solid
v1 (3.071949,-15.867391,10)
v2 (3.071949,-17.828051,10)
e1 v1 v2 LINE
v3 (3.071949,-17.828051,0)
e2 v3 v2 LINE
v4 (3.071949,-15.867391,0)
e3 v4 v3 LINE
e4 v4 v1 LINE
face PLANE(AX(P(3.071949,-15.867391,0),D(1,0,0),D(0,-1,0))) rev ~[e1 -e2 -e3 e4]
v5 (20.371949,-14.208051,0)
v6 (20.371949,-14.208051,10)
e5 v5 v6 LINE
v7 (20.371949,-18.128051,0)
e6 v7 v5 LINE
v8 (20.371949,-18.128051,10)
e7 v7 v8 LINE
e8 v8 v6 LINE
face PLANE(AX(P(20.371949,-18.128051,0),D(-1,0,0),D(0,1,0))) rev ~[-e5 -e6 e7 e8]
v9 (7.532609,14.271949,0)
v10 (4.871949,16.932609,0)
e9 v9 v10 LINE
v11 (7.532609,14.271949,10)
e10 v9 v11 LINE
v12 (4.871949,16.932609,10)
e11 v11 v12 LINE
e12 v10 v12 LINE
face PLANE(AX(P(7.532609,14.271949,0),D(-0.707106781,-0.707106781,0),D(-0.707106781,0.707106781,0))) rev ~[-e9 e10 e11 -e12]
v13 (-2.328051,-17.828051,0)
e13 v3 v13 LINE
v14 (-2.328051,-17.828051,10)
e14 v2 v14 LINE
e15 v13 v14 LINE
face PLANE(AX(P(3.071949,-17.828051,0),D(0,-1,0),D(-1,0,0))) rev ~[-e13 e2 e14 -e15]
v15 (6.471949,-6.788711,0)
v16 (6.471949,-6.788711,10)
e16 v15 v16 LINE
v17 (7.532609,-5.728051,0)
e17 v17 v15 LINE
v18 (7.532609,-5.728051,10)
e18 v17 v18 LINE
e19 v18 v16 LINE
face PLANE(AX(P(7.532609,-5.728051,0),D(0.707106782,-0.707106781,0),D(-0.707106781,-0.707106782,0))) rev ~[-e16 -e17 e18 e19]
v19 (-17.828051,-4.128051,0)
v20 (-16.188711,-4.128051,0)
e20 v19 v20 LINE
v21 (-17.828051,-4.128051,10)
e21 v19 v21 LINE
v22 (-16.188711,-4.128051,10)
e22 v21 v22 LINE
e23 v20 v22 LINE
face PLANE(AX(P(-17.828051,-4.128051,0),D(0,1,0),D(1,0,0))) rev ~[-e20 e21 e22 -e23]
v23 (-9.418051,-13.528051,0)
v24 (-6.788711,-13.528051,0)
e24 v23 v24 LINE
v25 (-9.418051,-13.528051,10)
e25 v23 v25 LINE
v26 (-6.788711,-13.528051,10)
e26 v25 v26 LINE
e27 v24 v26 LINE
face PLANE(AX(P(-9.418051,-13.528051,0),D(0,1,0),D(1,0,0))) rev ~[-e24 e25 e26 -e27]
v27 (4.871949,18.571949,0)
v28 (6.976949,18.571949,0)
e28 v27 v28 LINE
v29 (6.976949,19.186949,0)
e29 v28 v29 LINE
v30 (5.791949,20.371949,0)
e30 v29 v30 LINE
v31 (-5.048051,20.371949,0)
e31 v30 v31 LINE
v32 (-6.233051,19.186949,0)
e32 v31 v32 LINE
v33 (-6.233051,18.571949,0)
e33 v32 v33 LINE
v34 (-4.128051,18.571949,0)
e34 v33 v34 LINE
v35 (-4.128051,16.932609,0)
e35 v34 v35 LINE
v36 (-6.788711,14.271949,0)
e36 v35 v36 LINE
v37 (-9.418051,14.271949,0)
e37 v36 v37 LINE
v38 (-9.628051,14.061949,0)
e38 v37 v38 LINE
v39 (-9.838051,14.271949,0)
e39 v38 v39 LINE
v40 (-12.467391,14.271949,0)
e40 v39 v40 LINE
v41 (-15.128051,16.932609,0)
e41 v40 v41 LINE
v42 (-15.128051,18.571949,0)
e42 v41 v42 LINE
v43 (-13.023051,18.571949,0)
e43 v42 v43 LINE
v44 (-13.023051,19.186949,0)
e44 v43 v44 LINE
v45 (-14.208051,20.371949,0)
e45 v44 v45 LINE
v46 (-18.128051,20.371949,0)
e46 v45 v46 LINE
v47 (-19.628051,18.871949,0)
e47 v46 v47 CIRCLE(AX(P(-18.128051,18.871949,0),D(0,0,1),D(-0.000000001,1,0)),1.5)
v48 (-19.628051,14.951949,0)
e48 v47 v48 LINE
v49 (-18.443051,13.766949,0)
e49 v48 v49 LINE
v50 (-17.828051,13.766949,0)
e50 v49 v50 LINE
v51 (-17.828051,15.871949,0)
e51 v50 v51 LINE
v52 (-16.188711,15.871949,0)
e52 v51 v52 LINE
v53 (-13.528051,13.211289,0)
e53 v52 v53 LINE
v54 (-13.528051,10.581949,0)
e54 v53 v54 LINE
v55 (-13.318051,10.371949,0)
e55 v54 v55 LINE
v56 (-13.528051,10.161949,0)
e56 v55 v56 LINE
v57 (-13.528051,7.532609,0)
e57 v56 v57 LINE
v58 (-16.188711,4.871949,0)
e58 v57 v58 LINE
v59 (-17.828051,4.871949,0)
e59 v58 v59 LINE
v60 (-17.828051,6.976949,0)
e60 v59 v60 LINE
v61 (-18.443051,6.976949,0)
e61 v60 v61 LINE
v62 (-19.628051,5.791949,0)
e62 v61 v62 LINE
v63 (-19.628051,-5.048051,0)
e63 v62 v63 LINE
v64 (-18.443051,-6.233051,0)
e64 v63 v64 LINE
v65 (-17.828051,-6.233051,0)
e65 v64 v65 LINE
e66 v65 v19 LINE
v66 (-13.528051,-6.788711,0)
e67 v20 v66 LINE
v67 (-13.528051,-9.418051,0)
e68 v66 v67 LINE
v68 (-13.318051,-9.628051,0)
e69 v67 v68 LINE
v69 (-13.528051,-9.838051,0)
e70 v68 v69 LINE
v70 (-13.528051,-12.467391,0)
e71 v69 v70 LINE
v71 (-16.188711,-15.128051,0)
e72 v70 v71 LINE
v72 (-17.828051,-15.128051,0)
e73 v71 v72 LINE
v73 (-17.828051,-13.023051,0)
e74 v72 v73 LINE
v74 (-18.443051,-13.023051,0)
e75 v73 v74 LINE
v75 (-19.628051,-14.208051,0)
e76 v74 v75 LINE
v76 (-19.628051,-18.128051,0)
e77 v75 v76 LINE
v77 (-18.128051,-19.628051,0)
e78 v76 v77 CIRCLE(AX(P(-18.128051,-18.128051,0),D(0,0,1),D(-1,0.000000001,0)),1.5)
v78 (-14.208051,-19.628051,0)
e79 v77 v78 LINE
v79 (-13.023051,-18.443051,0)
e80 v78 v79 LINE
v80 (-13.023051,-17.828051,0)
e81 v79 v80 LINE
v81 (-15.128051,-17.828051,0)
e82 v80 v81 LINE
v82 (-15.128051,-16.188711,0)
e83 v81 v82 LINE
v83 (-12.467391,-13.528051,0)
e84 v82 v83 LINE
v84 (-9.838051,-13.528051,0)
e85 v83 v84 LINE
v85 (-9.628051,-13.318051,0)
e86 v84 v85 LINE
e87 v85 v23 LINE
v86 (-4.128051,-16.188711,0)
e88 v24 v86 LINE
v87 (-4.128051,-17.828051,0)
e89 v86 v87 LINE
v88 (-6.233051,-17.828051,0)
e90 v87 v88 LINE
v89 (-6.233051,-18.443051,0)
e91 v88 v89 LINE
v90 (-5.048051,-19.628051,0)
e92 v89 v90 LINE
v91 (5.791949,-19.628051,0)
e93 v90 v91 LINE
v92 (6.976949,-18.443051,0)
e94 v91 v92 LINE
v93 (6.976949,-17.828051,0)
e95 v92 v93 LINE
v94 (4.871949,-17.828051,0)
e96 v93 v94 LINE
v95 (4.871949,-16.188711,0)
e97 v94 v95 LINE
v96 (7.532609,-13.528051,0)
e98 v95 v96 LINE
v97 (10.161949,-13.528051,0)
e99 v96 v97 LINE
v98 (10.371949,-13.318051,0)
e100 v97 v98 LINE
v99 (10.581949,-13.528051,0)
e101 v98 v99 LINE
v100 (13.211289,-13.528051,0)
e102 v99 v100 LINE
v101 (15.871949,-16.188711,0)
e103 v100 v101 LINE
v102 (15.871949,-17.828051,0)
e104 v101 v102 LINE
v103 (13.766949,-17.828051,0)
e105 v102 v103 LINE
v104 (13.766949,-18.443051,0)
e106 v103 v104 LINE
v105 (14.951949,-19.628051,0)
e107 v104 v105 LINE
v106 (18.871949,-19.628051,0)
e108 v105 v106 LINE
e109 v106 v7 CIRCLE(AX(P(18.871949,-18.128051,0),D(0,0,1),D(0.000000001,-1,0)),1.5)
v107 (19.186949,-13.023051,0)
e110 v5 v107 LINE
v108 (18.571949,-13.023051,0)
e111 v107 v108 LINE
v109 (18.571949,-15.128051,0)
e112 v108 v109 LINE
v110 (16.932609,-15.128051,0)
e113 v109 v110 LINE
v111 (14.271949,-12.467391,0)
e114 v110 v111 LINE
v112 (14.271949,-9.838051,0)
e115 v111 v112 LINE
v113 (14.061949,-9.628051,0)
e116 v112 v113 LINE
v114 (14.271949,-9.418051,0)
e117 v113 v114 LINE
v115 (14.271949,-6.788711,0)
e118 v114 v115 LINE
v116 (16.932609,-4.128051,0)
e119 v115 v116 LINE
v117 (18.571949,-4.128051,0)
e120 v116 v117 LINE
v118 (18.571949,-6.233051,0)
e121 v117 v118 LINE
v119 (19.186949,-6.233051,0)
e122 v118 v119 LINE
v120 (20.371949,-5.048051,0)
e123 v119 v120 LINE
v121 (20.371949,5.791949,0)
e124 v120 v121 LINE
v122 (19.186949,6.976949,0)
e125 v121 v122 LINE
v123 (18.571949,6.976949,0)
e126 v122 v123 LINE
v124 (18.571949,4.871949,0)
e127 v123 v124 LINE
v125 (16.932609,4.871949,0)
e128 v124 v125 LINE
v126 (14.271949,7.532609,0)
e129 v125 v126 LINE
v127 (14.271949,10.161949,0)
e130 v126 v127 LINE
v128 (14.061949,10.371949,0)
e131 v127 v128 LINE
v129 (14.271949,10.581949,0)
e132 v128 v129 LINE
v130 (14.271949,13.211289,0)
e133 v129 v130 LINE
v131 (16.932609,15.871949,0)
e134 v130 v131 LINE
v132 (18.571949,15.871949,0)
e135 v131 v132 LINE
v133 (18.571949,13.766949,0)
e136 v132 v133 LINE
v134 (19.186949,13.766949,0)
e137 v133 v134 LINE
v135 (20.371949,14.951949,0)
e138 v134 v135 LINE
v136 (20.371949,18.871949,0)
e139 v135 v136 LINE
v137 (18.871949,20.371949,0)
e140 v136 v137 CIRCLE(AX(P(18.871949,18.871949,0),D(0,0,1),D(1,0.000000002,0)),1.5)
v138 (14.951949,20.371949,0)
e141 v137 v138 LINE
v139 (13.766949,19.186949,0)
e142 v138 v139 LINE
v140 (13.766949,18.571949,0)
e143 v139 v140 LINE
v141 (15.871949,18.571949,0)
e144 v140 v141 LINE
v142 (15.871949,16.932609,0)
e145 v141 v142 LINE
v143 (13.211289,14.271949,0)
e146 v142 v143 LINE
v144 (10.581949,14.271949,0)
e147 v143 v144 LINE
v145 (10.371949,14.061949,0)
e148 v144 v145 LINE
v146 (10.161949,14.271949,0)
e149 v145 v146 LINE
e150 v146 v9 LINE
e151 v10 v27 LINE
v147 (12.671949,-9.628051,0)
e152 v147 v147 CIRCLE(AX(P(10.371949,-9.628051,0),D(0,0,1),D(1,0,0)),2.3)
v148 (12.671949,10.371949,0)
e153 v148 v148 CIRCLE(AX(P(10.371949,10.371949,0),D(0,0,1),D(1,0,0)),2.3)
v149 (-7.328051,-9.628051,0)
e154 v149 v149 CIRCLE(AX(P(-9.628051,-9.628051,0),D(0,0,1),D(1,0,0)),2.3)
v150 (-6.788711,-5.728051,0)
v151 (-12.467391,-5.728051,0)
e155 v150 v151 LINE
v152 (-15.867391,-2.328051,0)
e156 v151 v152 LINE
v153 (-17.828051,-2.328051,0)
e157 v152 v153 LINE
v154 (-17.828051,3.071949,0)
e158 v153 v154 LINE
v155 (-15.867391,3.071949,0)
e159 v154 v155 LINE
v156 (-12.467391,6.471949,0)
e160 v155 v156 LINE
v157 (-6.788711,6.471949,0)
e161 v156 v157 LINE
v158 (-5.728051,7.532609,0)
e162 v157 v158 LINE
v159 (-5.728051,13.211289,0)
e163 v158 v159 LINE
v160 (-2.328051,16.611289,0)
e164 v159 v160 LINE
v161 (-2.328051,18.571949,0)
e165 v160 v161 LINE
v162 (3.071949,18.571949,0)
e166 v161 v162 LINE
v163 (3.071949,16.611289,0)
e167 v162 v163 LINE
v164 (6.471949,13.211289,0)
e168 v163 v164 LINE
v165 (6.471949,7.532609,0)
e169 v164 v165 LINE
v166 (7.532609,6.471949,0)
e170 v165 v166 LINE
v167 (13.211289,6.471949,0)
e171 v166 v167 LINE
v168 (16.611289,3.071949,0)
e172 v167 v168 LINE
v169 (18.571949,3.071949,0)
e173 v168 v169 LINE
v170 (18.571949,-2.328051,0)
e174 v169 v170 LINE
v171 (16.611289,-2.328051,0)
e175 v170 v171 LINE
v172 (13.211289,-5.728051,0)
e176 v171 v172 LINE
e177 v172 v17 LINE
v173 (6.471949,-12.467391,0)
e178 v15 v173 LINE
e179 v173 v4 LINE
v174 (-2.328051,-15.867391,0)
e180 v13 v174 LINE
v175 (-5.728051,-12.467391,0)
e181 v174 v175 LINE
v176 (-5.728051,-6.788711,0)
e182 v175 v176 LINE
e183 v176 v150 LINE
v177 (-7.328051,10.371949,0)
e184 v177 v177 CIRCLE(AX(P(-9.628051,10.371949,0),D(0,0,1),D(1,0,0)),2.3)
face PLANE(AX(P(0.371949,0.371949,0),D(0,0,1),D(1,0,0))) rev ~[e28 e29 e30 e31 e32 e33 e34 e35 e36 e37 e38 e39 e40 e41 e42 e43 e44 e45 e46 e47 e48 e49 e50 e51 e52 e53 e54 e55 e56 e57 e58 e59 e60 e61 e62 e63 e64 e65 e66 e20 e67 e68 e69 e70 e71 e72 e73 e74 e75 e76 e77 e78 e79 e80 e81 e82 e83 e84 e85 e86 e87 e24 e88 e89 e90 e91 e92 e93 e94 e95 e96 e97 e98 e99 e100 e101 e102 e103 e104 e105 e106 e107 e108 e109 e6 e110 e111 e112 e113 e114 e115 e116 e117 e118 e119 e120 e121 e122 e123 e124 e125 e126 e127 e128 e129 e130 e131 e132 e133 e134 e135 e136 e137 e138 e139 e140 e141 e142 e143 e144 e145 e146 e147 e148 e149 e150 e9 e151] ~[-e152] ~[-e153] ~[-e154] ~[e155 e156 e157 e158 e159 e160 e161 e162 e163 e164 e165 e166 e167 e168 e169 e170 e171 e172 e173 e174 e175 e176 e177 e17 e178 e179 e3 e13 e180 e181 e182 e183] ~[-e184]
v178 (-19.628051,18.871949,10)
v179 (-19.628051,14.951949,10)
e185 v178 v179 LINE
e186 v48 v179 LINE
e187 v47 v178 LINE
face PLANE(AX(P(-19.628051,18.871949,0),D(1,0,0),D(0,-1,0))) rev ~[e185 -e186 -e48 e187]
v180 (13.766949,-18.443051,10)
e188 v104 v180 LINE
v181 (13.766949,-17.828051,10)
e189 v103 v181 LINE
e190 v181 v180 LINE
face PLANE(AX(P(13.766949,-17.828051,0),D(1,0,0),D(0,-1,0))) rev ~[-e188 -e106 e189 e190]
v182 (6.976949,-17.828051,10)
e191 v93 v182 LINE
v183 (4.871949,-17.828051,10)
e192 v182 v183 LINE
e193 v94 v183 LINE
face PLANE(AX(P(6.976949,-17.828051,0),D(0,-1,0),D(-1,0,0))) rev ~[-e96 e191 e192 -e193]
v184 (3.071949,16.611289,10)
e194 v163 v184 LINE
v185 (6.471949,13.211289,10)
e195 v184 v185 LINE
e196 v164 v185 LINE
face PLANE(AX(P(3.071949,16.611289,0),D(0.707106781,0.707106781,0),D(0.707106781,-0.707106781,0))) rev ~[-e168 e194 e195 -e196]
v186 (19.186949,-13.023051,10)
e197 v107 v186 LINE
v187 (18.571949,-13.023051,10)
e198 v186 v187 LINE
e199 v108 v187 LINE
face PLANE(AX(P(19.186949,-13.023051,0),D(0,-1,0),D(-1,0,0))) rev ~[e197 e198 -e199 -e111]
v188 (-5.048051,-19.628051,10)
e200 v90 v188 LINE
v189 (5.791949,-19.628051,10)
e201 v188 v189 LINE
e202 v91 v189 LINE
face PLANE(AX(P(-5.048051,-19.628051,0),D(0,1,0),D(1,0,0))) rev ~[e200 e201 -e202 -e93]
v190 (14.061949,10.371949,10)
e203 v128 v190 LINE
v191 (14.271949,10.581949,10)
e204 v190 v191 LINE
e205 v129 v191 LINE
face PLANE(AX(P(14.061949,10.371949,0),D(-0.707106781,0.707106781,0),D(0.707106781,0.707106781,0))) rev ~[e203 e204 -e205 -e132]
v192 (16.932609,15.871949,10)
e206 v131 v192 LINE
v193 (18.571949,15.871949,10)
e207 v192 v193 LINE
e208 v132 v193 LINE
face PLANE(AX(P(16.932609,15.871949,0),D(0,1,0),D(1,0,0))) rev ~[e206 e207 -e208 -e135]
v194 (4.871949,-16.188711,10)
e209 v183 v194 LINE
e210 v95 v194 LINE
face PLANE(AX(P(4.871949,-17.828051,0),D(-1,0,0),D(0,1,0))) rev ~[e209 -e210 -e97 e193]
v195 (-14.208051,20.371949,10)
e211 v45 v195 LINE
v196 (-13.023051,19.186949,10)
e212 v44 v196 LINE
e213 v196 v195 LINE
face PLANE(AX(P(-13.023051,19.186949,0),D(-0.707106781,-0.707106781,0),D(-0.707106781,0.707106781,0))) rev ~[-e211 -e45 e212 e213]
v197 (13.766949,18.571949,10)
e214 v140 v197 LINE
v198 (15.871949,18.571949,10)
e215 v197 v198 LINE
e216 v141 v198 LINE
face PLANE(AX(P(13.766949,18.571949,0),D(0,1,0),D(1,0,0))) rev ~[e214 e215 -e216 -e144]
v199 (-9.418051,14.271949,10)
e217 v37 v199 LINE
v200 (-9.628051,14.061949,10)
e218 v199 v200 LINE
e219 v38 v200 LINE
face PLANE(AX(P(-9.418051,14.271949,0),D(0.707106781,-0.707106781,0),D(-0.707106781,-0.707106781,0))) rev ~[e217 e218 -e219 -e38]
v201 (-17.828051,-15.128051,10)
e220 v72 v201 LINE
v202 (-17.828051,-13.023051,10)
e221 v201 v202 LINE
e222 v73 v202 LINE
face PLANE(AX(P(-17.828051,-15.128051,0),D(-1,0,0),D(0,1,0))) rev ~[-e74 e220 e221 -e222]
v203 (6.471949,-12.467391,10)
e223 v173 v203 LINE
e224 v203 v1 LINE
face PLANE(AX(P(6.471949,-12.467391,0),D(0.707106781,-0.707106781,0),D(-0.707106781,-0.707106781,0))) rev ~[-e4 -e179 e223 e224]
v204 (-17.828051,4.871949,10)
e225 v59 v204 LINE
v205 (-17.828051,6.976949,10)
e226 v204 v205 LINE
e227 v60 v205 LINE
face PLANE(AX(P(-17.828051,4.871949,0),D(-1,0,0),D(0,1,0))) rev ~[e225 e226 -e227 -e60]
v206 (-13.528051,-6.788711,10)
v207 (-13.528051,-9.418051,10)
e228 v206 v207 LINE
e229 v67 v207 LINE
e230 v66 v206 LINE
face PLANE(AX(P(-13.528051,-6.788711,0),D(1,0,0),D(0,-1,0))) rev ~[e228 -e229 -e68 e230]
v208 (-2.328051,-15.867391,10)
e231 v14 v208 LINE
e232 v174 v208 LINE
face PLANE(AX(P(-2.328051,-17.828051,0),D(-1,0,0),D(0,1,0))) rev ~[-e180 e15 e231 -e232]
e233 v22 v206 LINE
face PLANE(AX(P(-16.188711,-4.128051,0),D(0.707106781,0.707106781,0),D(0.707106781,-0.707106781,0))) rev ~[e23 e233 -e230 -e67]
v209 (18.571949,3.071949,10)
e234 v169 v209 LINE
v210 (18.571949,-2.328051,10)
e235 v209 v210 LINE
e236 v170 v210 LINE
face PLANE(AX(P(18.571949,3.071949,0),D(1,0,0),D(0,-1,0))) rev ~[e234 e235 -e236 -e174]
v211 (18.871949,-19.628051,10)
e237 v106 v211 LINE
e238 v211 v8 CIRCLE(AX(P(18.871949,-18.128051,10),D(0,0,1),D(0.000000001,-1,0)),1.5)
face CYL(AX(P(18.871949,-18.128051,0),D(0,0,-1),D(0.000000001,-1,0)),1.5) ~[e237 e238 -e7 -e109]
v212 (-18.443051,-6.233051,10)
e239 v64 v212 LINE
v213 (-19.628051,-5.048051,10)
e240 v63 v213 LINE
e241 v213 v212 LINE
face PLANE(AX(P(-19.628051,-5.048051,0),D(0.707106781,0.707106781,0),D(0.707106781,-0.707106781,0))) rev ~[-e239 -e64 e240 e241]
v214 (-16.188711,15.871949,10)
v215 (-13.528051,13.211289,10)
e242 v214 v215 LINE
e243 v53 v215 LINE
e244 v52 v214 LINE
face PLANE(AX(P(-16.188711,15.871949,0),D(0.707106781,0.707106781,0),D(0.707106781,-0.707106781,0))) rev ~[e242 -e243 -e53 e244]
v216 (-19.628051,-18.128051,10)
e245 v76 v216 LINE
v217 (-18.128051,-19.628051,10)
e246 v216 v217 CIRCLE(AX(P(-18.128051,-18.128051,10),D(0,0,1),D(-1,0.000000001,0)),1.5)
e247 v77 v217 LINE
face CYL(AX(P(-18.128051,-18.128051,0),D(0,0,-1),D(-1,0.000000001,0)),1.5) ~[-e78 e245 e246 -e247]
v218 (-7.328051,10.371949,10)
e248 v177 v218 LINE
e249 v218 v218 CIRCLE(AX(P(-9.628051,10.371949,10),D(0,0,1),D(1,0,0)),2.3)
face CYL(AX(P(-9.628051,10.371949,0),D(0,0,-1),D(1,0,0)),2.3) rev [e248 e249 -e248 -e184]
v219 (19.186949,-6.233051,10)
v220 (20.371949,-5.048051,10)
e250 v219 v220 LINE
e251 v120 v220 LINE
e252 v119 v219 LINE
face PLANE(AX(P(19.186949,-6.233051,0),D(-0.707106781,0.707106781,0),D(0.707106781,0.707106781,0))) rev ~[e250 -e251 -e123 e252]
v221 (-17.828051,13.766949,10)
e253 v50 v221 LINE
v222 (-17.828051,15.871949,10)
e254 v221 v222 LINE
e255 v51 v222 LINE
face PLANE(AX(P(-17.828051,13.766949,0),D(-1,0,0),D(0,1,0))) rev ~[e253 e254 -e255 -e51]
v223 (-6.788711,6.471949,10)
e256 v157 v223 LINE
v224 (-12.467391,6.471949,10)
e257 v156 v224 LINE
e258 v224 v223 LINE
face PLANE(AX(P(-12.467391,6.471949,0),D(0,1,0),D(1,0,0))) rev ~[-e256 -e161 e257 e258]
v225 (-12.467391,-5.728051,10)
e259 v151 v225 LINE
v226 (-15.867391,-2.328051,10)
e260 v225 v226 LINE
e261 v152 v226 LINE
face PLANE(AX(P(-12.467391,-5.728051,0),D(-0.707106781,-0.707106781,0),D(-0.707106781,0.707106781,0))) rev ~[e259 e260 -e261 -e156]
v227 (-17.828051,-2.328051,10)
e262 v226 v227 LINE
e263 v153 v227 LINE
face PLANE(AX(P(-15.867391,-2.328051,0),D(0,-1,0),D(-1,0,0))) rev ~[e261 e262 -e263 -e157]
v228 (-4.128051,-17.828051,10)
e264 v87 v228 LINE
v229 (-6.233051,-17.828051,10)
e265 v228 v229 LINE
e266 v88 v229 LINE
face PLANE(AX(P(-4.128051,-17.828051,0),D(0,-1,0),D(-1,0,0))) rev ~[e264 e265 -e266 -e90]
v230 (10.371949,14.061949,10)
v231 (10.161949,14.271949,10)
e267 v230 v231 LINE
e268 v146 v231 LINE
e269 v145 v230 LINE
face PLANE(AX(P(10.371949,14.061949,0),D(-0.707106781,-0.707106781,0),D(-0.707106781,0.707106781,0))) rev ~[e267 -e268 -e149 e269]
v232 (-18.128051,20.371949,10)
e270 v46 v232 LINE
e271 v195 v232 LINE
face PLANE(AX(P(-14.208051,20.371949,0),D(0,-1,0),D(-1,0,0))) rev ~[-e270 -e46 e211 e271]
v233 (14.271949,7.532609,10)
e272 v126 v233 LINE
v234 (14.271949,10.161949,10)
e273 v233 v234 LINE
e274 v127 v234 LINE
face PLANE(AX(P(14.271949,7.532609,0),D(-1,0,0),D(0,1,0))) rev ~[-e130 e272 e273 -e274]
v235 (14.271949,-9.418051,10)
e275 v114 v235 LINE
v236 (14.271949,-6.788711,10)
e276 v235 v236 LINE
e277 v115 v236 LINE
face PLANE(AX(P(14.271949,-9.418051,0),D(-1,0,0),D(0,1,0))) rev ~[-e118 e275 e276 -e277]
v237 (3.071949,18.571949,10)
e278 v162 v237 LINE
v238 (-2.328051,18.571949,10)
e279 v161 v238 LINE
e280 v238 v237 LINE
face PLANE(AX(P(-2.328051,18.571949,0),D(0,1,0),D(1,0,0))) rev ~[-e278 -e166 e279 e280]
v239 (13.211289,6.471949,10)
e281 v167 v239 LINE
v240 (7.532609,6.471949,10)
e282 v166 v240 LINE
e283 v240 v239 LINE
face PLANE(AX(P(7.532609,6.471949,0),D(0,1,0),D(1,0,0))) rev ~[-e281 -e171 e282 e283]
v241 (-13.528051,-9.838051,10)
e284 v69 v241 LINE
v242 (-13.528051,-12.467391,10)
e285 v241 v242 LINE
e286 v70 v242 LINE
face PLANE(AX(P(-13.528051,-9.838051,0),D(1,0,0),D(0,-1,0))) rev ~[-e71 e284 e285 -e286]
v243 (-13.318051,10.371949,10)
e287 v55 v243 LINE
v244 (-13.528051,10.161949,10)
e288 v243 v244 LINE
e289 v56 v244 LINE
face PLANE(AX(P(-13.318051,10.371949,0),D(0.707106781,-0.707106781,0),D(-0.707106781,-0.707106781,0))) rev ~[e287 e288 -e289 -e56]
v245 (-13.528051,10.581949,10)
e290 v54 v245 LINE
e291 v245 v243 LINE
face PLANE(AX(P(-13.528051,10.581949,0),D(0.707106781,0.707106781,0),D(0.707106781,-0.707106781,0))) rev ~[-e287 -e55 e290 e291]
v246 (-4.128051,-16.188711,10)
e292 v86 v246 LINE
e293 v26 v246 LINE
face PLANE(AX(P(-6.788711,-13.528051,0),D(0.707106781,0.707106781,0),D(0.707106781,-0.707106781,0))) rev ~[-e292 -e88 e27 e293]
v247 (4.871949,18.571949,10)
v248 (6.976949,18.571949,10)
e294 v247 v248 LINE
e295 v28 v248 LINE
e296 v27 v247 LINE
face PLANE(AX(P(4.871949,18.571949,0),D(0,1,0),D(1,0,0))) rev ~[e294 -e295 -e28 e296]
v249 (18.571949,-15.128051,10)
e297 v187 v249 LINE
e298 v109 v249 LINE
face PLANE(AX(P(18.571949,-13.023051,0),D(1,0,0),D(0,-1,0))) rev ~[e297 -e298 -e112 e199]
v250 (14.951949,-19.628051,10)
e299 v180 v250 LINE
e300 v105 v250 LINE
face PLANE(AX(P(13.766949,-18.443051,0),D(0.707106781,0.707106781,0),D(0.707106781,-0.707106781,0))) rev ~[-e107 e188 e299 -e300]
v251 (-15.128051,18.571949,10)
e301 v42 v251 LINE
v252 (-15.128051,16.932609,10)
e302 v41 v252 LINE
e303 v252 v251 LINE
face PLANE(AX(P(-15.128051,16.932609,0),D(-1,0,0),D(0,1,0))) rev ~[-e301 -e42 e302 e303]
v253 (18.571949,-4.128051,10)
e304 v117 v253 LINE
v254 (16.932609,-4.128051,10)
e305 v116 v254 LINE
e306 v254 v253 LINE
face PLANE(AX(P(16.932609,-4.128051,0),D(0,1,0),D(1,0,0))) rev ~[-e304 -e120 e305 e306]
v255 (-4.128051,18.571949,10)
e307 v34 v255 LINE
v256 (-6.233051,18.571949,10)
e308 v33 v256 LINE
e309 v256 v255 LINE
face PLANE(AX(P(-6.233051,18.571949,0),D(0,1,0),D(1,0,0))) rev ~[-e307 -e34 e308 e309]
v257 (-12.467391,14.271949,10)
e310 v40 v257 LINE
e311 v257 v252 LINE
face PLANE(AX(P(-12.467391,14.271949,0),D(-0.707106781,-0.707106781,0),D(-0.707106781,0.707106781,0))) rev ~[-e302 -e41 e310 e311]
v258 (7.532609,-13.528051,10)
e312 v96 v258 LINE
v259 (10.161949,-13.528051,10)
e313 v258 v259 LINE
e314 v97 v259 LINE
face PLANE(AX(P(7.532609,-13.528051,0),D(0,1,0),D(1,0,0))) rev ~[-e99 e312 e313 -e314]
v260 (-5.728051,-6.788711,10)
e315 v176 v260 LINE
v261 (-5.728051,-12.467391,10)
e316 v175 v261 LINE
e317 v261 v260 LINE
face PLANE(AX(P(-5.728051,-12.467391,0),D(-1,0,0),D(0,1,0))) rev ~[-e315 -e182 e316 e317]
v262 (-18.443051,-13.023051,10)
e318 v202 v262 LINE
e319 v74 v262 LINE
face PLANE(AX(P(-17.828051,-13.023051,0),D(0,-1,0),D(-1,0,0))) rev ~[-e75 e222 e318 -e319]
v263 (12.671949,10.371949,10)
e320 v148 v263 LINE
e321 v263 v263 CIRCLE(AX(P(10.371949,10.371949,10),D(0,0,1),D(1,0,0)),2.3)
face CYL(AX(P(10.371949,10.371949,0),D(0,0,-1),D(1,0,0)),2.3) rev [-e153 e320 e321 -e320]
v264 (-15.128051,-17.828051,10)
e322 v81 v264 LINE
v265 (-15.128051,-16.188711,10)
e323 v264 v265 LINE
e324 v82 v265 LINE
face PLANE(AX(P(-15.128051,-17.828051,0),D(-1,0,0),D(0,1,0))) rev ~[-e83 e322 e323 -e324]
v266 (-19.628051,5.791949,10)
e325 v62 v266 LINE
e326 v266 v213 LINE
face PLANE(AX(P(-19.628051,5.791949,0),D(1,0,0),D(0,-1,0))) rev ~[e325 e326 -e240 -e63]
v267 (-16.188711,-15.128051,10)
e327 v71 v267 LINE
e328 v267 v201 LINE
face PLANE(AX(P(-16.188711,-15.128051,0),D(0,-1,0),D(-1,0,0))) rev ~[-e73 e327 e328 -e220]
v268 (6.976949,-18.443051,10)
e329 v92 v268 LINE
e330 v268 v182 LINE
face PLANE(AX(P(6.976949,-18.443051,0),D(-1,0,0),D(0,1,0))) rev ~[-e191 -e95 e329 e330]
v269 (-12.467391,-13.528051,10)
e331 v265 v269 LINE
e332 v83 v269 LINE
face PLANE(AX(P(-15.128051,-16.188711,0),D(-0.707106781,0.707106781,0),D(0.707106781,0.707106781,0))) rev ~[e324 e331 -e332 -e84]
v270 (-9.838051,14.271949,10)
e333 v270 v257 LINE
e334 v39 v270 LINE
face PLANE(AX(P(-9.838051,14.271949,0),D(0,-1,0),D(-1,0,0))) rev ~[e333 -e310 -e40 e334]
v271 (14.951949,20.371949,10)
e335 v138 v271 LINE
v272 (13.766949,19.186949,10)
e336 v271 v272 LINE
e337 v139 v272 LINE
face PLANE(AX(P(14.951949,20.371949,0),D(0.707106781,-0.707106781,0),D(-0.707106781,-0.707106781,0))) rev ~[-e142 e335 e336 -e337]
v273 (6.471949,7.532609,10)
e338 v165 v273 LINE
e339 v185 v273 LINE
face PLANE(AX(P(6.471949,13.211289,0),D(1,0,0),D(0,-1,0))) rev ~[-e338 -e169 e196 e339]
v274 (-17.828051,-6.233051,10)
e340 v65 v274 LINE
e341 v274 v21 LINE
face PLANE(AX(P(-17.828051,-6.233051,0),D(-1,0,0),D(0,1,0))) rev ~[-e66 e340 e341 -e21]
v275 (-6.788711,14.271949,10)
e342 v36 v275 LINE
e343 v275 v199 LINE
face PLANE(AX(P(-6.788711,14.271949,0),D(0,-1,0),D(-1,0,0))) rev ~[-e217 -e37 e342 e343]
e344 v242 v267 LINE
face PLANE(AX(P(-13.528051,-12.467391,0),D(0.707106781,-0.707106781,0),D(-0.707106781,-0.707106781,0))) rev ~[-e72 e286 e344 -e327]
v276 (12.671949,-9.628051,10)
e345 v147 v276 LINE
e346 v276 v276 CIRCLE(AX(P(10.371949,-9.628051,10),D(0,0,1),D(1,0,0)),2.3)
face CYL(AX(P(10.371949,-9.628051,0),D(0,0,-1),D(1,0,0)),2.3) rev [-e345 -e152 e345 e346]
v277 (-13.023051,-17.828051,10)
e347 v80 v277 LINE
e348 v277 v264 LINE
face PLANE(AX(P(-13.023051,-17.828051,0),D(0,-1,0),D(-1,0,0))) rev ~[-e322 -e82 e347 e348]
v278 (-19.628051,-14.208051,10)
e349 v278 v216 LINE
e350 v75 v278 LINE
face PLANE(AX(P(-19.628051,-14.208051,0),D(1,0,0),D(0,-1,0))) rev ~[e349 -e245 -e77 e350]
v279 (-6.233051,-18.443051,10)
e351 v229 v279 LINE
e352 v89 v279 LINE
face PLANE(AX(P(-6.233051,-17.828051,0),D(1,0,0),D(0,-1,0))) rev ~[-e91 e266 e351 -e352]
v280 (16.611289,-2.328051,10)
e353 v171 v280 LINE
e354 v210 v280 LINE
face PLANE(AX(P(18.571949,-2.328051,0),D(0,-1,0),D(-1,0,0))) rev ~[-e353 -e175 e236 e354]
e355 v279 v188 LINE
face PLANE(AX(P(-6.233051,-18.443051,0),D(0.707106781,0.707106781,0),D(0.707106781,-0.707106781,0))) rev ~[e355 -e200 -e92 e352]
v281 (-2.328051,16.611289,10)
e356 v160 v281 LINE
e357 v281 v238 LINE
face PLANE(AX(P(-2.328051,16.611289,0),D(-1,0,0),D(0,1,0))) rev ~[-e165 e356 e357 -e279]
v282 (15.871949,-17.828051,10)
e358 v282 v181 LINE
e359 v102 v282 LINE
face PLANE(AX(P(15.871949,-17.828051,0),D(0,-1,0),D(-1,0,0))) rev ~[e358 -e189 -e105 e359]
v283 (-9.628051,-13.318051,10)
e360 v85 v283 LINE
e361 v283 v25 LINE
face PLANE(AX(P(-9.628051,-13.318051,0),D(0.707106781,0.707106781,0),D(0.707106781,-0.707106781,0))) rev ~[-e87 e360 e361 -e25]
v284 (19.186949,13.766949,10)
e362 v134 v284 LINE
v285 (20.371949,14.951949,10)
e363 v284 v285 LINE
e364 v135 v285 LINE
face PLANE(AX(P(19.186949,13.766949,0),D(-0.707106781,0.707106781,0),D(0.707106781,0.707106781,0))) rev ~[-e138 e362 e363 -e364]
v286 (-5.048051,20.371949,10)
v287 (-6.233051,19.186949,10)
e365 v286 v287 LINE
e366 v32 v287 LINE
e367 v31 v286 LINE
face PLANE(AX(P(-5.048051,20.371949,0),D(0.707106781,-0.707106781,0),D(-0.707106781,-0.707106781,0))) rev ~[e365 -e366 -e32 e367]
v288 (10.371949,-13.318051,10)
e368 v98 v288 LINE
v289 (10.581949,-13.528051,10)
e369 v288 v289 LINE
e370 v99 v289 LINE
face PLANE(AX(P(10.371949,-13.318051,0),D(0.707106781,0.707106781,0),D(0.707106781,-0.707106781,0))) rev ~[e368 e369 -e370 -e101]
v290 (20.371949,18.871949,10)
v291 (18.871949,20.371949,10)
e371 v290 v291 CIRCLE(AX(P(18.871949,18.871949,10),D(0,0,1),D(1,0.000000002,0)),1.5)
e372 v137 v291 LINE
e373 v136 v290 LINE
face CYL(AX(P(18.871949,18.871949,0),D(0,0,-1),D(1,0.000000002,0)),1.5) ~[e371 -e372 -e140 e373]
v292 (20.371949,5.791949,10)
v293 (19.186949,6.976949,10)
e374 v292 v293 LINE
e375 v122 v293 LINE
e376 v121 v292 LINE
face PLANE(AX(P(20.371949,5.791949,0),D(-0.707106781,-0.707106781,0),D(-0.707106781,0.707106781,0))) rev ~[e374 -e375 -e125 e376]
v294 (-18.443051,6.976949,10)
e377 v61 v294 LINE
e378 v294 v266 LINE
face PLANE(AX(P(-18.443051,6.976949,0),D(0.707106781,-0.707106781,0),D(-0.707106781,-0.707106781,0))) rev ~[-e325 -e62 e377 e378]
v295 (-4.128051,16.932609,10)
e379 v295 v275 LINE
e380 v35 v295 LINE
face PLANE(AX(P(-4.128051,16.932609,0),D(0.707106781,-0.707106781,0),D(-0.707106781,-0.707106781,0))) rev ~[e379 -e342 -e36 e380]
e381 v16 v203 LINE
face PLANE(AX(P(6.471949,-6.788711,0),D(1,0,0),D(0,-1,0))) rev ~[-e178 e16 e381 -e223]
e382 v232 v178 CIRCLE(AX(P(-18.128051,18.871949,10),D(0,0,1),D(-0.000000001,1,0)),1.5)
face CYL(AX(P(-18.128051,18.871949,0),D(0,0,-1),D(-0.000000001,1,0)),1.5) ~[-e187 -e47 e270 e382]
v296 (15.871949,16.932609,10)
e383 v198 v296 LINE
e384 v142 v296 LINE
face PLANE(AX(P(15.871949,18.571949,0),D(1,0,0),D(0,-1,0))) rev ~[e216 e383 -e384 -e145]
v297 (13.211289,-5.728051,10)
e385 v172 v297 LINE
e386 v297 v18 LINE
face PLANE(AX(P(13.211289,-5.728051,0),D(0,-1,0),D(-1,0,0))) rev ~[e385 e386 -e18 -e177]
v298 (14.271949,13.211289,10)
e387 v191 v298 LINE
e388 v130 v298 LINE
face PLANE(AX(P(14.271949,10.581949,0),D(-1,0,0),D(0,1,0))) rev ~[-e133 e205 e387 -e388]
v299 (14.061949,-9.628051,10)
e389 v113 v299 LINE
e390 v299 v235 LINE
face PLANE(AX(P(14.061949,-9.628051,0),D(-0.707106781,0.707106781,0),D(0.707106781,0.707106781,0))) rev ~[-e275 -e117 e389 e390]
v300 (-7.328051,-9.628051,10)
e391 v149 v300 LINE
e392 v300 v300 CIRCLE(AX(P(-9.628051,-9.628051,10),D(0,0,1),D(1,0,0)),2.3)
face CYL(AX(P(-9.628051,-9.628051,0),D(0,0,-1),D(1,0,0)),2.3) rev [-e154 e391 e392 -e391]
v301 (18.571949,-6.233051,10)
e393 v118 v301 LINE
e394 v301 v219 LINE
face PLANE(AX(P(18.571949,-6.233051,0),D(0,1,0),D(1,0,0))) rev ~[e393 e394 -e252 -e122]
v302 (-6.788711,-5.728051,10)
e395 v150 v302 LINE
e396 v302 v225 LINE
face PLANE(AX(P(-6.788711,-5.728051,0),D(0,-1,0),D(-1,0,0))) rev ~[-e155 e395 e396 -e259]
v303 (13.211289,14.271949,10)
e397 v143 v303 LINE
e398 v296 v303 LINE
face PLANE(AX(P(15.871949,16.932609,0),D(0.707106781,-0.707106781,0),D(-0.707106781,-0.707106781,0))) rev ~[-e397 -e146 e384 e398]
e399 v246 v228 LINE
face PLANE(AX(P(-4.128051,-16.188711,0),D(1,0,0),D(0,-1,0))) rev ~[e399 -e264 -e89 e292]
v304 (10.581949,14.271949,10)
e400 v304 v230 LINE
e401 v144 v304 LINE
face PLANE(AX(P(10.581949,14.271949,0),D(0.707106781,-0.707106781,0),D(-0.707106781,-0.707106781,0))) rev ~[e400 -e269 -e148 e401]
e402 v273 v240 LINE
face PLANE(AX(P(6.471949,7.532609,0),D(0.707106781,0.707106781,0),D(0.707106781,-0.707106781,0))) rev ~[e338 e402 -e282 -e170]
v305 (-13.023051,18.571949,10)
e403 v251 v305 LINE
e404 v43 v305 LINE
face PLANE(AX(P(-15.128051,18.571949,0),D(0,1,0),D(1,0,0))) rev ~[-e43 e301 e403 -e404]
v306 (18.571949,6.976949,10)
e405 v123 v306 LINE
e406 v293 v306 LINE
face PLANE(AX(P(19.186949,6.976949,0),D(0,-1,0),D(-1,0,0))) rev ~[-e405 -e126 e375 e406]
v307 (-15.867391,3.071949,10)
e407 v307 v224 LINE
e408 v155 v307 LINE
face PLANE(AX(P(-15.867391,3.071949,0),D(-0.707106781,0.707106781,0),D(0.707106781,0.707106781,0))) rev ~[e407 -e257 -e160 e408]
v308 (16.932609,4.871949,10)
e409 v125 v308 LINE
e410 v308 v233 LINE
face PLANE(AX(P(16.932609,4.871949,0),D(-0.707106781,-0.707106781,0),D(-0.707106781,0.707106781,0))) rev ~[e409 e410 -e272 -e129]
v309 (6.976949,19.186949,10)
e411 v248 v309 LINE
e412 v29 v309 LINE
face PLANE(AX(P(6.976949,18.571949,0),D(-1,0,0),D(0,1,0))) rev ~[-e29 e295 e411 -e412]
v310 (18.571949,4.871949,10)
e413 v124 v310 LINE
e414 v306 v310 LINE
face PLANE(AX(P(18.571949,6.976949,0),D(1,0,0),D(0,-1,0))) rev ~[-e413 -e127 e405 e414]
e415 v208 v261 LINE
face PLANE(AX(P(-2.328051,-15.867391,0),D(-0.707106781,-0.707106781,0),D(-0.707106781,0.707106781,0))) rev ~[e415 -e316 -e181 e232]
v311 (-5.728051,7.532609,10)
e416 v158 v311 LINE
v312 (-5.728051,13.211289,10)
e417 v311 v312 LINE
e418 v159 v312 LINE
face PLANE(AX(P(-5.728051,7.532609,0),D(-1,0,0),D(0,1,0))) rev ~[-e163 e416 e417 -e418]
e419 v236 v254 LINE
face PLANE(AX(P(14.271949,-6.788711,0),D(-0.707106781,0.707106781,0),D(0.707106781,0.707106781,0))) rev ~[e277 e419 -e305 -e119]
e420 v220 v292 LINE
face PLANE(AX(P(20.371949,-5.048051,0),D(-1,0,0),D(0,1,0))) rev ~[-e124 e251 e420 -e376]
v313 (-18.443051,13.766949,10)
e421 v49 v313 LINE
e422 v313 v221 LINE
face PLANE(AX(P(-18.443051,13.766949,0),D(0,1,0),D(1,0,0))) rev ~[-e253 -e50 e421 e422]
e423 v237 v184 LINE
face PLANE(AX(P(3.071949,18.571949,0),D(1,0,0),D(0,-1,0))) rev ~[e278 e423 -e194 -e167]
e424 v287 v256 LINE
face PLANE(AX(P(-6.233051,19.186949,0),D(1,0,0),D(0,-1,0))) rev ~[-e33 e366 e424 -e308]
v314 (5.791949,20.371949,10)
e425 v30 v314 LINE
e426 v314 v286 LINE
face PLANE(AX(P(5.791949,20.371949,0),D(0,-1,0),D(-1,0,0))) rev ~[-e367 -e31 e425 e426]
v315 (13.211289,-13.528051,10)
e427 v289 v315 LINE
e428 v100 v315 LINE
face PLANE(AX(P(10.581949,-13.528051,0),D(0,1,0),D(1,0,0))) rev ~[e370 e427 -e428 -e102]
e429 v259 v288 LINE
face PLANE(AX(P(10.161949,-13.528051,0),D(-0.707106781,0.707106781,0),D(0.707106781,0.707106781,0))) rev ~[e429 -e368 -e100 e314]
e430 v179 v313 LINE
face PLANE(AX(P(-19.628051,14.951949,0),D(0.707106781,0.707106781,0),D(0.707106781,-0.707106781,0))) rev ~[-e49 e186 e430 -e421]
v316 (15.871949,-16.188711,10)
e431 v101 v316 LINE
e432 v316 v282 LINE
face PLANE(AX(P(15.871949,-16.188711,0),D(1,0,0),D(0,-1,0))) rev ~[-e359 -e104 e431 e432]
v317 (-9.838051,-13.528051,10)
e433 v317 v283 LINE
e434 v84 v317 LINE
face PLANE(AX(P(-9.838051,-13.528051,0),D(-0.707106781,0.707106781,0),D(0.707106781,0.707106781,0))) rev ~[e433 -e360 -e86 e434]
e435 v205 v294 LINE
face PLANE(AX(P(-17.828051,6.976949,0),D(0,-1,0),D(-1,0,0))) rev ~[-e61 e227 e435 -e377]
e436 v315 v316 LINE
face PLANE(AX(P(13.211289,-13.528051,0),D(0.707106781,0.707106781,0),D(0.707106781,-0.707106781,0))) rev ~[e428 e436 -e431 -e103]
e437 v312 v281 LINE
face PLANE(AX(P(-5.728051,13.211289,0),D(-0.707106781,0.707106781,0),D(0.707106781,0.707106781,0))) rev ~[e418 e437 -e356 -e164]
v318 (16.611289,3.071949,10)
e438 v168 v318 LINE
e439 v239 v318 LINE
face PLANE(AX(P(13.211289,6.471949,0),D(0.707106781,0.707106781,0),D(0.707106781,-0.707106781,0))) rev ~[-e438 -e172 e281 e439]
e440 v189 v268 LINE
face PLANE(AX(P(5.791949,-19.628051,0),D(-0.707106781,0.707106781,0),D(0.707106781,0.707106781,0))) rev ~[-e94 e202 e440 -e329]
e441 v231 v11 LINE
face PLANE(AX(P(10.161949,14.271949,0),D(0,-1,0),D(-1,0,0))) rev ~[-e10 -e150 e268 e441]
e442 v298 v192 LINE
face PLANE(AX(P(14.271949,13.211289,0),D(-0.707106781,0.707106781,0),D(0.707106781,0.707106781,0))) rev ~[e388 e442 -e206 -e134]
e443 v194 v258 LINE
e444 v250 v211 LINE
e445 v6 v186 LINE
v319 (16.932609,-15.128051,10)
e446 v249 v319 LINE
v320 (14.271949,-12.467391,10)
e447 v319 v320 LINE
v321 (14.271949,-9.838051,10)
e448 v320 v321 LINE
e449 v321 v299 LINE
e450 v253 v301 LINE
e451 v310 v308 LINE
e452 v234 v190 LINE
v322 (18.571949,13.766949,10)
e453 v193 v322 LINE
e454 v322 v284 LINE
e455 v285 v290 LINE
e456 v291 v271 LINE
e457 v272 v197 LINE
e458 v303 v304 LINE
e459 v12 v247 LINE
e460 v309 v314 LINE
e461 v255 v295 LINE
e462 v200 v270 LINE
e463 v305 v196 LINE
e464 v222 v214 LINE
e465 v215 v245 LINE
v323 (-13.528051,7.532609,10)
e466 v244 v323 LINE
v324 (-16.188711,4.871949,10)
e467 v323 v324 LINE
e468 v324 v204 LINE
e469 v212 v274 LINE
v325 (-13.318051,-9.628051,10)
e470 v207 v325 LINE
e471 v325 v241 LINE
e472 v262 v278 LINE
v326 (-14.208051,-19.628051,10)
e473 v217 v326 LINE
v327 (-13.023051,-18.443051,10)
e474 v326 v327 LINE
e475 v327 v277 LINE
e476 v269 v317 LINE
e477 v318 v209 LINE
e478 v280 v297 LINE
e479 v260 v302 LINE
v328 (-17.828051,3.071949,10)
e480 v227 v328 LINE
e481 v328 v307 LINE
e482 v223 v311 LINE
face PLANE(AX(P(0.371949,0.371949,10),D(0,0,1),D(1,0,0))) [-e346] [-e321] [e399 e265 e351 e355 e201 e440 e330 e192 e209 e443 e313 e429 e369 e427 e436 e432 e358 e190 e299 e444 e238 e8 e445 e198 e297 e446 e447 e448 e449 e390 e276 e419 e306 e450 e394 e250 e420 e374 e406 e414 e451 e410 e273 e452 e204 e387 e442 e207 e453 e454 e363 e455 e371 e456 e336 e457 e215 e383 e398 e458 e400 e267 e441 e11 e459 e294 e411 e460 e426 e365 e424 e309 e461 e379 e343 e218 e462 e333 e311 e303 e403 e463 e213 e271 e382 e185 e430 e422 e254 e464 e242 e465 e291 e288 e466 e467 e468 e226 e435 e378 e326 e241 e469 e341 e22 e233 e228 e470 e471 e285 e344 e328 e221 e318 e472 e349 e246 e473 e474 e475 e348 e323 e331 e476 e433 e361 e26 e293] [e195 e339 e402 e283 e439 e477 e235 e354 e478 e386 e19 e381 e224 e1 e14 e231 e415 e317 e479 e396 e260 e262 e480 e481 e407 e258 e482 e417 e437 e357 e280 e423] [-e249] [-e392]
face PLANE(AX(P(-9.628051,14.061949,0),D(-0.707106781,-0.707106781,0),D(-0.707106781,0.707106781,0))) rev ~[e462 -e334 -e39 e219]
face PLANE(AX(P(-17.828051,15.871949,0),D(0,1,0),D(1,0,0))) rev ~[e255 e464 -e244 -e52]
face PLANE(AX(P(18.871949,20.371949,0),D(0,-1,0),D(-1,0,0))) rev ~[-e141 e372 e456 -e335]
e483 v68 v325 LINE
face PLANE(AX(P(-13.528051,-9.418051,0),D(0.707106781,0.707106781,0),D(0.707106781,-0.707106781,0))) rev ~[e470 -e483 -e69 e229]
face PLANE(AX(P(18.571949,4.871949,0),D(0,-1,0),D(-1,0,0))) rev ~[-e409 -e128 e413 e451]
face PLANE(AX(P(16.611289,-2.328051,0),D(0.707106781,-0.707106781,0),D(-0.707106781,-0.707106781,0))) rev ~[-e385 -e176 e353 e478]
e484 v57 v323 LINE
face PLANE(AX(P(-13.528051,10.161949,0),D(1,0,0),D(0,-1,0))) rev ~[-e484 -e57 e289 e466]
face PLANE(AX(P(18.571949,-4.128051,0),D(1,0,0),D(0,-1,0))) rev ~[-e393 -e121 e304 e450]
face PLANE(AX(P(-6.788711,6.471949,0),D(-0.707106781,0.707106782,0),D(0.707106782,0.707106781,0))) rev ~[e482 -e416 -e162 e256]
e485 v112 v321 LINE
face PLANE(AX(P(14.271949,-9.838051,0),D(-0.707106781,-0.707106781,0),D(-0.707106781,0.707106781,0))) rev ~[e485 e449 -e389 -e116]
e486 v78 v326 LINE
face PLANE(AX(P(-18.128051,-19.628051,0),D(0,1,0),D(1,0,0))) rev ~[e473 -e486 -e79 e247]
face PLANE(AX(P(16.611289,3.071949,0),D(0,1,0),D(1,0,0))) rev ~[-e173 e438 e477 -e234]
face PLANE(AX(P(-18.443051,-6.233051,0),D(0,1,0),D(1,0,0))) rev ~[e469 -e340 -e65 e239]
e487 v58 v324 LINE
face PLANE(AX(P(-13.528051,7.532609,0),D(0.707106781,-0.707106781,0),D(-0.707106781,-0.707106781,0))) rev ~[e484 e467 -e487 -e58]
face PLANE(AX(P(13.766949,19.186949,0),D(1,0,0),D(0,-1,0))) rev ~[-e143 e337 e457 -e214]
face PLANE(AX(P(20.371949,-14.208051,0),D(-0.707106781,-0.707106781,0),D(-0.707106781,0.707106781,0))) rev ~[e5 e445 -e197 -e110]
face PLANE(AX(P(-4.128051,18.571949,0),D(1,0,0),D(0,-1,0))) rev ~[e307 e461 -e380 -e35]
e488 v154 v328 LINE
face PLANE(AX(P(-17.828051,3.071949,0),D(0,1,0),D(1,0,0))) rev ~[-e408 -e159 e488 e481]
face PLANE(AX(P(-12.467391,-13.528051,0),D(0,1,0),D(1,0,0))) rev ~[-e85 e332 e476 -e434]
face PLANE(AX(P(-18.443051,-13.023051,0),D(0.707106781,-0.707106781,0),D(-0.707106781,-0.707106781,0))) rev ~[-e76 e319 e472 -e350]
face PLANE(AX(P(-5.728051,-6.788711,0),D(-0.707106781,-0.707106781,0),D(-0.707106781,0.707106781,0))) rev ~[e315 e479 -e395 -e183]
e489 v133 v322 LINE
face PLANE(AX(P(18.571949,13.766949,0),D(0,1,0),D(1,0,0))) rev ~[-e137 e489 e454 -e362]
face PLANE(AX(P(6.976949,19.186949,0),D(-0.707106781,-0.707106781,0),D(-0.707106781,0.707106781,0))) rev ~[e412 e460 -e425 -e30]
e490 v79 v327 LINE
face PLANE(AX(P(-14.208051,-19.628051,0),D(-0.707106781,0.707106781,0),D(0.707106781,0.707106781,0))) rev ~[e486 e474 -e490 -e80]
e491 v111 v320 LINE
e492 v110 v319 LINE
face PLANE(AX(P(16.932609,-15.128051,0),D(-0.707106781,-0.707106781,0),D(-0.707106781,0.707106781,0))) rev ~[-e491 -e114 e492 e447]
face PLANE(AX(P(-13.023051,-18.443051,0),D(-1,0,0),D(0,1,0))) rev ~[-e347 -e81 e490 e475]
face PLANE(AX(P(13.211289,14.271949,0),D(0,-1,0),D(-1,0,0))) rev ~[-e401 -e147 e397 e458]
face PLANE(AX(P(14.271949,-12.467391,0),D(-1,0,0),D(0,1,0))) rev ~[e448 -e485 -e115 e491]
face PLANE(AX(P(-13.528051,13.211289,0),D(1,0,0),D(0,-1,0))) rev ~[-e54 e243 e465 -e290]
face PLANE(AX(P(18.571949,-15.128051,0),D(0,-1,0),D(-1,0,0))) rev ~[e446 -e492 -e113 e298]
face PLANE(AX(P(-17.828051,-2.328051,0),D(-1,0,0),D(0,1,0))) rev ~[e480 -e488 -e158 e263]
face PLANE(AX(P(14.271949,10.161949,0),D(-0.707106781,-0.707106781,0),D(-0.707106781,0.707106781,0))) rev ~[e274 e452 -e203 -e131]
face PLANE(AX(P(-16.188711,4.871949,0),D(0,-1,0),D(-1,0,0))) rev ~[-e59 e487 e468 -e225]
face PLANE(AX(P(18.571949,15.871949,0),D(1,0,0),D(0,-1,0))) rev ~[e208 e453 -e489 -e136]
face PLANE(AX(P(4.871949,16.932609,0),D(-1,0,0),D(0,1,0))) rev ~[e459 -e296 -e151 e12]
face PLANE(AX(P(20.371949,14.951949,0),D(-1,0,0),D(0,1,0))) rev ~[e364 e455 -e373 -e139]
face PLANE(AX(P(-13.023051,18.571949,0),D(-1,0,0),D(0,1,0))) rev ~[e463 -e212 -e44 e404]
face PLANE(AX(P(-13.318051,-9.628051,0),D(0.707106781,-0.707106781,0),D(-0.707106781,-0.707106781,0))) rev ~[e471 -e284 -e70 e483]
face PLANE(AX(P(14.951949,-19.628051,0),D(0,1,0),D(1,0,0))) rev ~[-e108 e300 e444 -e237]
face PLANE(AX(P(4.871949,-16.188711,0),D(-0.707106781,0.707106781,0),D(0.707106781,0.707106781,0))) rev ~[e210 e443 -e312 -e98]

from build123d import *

# Parameters (mm, degrees)
SKETCH1_R           = 2.3
BOSS_EXTRUDE1_DEPTH = 10


with BuildPart() as part:
    # Sketch1 → Boss-Extrude1 (new body)
    with BuildSketch(Plane.XY):
        with BuildLine():
            Line((14.271948898, -9.838051102), (14.061948898, -9.628051102))
            Line((14.061948898, -9.628051102), (14.271948898, -9.418051102))
            Line((14.271948898, -9.418051102), (14.271948898, -6.788711274))
            Line((14.271948898, -6.788711274), (16.932609069, -4.128051102))
            Line((16.932609069, -4.128051102), (18.571948898, -4.128051102))
            Line((18.571948898, -4.128051102), (18.571948898, -6.233051102))
            Line((18.571948898, -6.233051102), (19.186948898, -6.233051102))
            Line((19.186948898, -6.233051102), (20.371948898, -5.048051102))
            Line((20.371948898, -5.048051102), (20.371948898, 5.791948898))
            Line((20.371948898, 5.791948898), (19.186948898, 6.976948898))
            Line((19.186948898, 6.976948898), (18.571948898, 6.976948898))
            Line((18.571948898, 6.976948898), (18.571948898, 4.871948898))
            Line((18.571948898, 4.871948898), (16.932609069, 4.871948898))
            Line((16.932609069, 4.871948898), (14.271948898, 7.532609069))
            Line((14.271948898, 7.532609069), (14.271948898, 10.161948898))
            Line((14.271948898, 10.161948898), (14.061948898, 10.371948898))
            Line((14.061948898, 10.371948898), (14.271948898, 10.581948898))
            Line((14.271948898, 10.581948898), (14.271948898, 13.211288726))
            Line((14.271948898, 13.211288726), (16.932609069, 15.871948898))
            Line((16.932609069, 15.871948898), (18.571948898, 15.871948898))
            Line((18.571948898, 15.871948898), (18.571948898, 13.766948898))
            Line((18.571948898, 13.766948898), (19.186948898, 13.766948898))
            Line((19.186948898, 13.766948898), (20.371948898, 14.951948898))
            Line((20.371948898, 14.951948898), (20.371948898, 18.871948898))
            ThreePointArc((20.371948898, 18.871948898), (19.932609069, 19.932609069), (18.871948898, 20.371948898))
            Line((18.871948898, 20.371948898), (14.951948898, 20.371948898))
            Line((14.951948898, 20.371948898), (13.766948898, 19.186948898))
            Line((13.766948898, 19.186948898), (13.766948898, 18.571948898))
            Line((13.766948898, 18.571948898), (15.871948898, 18.571948898))
            Line((15.871948898, 18.571948898), (15.871948898, 16.932609069))
            Line((15.871948898, 16.932609069), (13.211288726, 14.271948898))
            Line((13.211288726, 14.271948898), (10.581948898, 14.271948898))
            Line((10.581948898, 14.271948898), (10.371948898, 14.061948898))
            Line((10.371948898, 14.061948898), (10.161948898, 14.271948898))
            Line((10.161948898, 14.271948898), (7.532609069, 14.271948898))
            Line((7.532609069, 14.271948898), (4.871948898, 16.932609069))
            Line((4.871948898, 16.932609069), (4.871948898, 18.571948898))
            Line((4.871948898, 18.571948898), (6.976948898, 18.571948898))
            Line((6.976948898, 18.571948898), (6.976948898, 19.186948898))
            Line((6.976948898, 19.186948898), (5.791948898, 20.371948898))
            Line((5.791948898, 20.371948898), (-5.048051102, 20.371948898))
            Line((-5.048051102, 20.371948898), (-6.233051102, 19.186948898))
            Line((-6.233051102, 19.186948898), (-6.233051102, 18.571948898))
            Line((-6.233051102, 18.571948898), (-4.128051102, 18.571948898))
            Line((-4.128051102, 18.571948898), (-4.128051102, 16.932609069))
            Line((-4.128051102, 16.932609069), (-6.788711274, 14.271948898))
            Line((-6.788711274, 14.271948898), (-9.418051102, 14.271948898))
            Line((-9.418051102, 14.271948898), (-9.628051102, 14.061948898))
            Line((-9.628051102, 14.061948898), (-9.838051102, 14.271948898))
            Line((-9.838051102, 14.271948898), (-12.467390931, 14.271948898))
            Line((-12.467390931, 14.271948898), (-15.128051102, 16.932609069))
            Line((-15.128051102, 16.932609069), (-15.128051102, 18.571948898))
            Line((-15.128051102, 18.571948898), (-13.023051102, 18.571948898))
            Line((-13.023051102, 18.571948898), (-13.023051102, 19.186948898))
            Line((-13.023051102, 19.186948898), (-14.208051102, 20.371948898))
            Line((-14.208051102, 20.371948898), (-18.128051102, 20.371948898))
            ThreePointArc((-18.128051102, 20.371948898), (-19.188711274, 19.932609069), (-19.628051102, 18.871948898))
            Line((-19.628051102, 18.871948898), (-19.628051102, 14.951948898))
            Line((-19.628051102, 14.951948898), (-18.443051102, 13.766948898))
            Line((-18.443051102, 13.766948898), (-17.828051102, 13.766948898))
            Line((-17.828051102, 13.766948898), (-17.828051102, 15.871948898))
            Line((-17.828051102, 15.871948898), (-16.188711274, 15.871948898))
            Line((-16.188711274, 15.871948898), (-13.528051102, 13.211288726))
            Line((-13.528051102, 13.211288726), (-13.528051102, 10.581948898))
            Line((-13.528051102, 10.581948898), (-13.318051102, 10.371948898))
            Line((-13.318051102, 10.371948898), (-13.528051102, 10.161948898))
            Line((-13.528051102, 10.161948898), (-13.528051102, 7.532609069))
            Line((-13.528051102, 7.532609069), (-16.188711274, 4.871948898))
            Line((-16.188711274, 4.871948898), (-17.828051102, 4.871948898))
            Line((-17.828051102, 4.871948898), (-17.828051102, 6.976948898))
            Line((-17.828051102, 6.976948898), (-18.443051102, 6.976948898))
            Line((-18.443051102, 6.976948898), (-19.628051102, 5.791948898))
            Line((-19.628051102, 5.791948898), (-19.628051102, -5.048051102))
            Line((-19.628051102, -5.048051102), (-18.443051102, -6.233051102))
            Line((-18.443051102, -6.233051102), (-17.828051102, -6.233051102))
            Line((-17.828051102, -6.233051102), (-17.828051102, -4.128051102))
            Line((-17.828051102, -4.128051102), (-16.188711274, -4.128051102))
            Line((-16.188711274, -4.128051102), (-13.528051102, -6.788711274))
            Line((-13.528051102, -6.788711274), (-13.528051102, -9.418051102))
            Line((-13.528051102, -9.418051102), (-13.318051102, -9.628051102))
            Line((-13.318051102, -9.628051102), (-13.528051102, -9.838051102))
            Line((-13.528051102, -9.838051102), (-13.528051102, -12.467390931))
            Line((-13.528051102, -12.467390931), (-16.188711274, -15.128051102))
            Line((-16.188711274, -15.128051102), (-17.828051102, -15.128051102))
            Line((-17.828051102, -15.128051102), (-17.828051102, -13.023051102))
            Line((-17.828051102, -13.023051102), (-18.443051102, -13.023051102))
            Line((-18.443051102, -13.023051102), (-19.628051102, -14.208051102))
            Line((-19.628051102, -14.208051102), (-19.628051102, -18.128051102))
            ThreePointArc((-19.628051102, -18.128051102), (-19.188711274, -19.188711274), (-18.128051102, -19.628051102))
            Line((-18.128051102, -19.628051102), (-14.208051102, -19.628051102))
            Line((-14.208051102, -19.628051102), (-13.023051102, -18.443051102))
            Line((-13.023051102, -18.443051102), (-13.023051102, -17.828051102))
            Line((-13.023051102, -17.828051102), (-15.128051102, -17.828051102))
            Line((-15.128051102, -17.828051102), (-15.128051102, -16.188711274))
            Line((-15.128051102, -16.188711274), (-12.467390931, -13.528051102))
            Line((-12.467390931, -13.528051102), (-9.838051102, -13.528051102))
            Line((-9.838051102, -13.528051102), (-9.628051102, -13.318051102))
            Line((-9.628051102, -13.318051102), (-9.418051102, -13.528051102))
            Line((-9.418051102, -13.528051102), (-6.788711274, -13.528051102))
            Line((-6.788711274, -13.528051102), (-4.128051102, -16.188711274))
            Line((-4.128051102, -16.188711274), (-4.128051102, -17.828051102))
            Line((-4.128051102, -17.828051102), (-6.233051102, -17.828051102))
            Line((-6.233051102, -17.828051102), (-6.233051102, -18.443051102))
            Line((-6.233051102, -18.443051102), (-5.048051102, -19.628051102))
            Line((-5.048051102, -19.628051102), (5.791948898, -19.628051102))
            Line((5.791948898, -19.628051102), (6.976948898, -18.443051102))
            Line((6.976948898, -18.443051102), (6.976948898, -17.828051102))
            Line((6.976948898, -17.828051102), (4.871948898, -17.828051102))
            Line((4.871948898, -17.828051102), (4.871948898, -16.188711274))
            Line((4.871948898, -16.188711274), (7.532609069, -13.528051102))
            Line((7.532609069, -13.528051102), (10.161948898, -13.528051102))
            Line((10.161948898, -13.528051102), (10.371948898, -13.318051102))
            Line((10.371948898, -13.318051102), (10.581948898, -13.528051102))
            Line((10.581948898, -13.528051102), (13.211288726, -13.528051102))
            Line((13.211288726, -13.528051102), (15.871948898, -16.188711274))
            Line((15.871948898, -16.188711274), (15.871948898, -17.828051102))
            Line((15.871948898, -17.828051102), (13.766948898, -17.828051102))
            Line((13.766948898, -17.828051102), (13.766948898, -18.443051102))
            Line((13.766948898, -18.443051102), (14.951948898, -19.628051102))
            Line((14.951948898, -19.628051102), (18.871948898, -19.628051102))
            ThreePointArc((18.871948898, -19.628051102), (19.932609069, -19.188711274), (20.371948898, -18.128051102))
            Line((20.371948898, -18.128051102), (20.371948898, -14.208051102))
            Line((20.371948898, -14.208051102), (19.186948898, -13.023051102))
            Line((19.186948898, -13.023051102), (18.571948898, -13.023051102))
            Line((18.571948898, -13.023051102), (18.571948898, -15.128051102))
            Line((18.571948898, -15.128051102), (16.932609069, -15.128051102))
            Line((16.932609069, -15.128051102), (14.271948898, -12.467390931))
            Line((14.271948898, -12.467390931), (14.271948898, -9.838051102))
        make_face()
        with Locations((-9.628051102, -9.628051102)):
            Circle(SKETCH1_R, mode=Mode.SUBTRACT)
        with Locations((10.371948898, -9.628051102)):
            Circle(SKETCH1_R, mode=Mode.SUBTRACT)
        with Locations((10.371948898, 10.371948898)):
            Circle(SKETCH1_R, mode=Mode.SUBTRACT)
        with Locations((-9.628051102, 10.371948898)):
            Circle(SKETCH1_R, mode=Mode.SUBTRACT)
        Polygon((-12.467390931, 6.471948898), (-6.788711274, 6.471948898), (-5.728051102, 7.532609069), (-5.728051102, 13.211288726), (-2.328051102, 16.611288726), (-2.328051102, 18.571948898), (3.071948898, 18.571948898), (3.071948898, 16.611288726), (6.471948898, 13.211288726), (6.471948898, 7.532609069), (7.532609069, 6.471948898), (13.211288726, 6.471948898), (16.611288726, 3.071948898), (18.571948898, 3.071948898), (18.571948898, -2.328051102), (16.611288726, -2.328051102), (13.211288726, -5.728051102), (7.532609069, -5.728051102), (6.471948898, -6.788711274), (6.471948898, -12.467390931), (3.071948898, -15.867390931), (3.071948898, -17.828051102), (-2.328051102, -17.828051102), (-2.328051102, -15.867390931), (-5.728051102, -12.467390931), (-5.728051102, -6.788711274), (-6.788711274, -5.728051102), (-12.467390931, -5.728051102), (-15.867390931, -2.328051102), (-17.828051102, -2.328051102), (-17.828051102, 3.071948898), (-15.867390931, 3.071948898), align=None, mode=Mode.SUBTRACT)
    extrude(amount=BOSS_EXTRUDE1_DEPTH)


solid = part.part
